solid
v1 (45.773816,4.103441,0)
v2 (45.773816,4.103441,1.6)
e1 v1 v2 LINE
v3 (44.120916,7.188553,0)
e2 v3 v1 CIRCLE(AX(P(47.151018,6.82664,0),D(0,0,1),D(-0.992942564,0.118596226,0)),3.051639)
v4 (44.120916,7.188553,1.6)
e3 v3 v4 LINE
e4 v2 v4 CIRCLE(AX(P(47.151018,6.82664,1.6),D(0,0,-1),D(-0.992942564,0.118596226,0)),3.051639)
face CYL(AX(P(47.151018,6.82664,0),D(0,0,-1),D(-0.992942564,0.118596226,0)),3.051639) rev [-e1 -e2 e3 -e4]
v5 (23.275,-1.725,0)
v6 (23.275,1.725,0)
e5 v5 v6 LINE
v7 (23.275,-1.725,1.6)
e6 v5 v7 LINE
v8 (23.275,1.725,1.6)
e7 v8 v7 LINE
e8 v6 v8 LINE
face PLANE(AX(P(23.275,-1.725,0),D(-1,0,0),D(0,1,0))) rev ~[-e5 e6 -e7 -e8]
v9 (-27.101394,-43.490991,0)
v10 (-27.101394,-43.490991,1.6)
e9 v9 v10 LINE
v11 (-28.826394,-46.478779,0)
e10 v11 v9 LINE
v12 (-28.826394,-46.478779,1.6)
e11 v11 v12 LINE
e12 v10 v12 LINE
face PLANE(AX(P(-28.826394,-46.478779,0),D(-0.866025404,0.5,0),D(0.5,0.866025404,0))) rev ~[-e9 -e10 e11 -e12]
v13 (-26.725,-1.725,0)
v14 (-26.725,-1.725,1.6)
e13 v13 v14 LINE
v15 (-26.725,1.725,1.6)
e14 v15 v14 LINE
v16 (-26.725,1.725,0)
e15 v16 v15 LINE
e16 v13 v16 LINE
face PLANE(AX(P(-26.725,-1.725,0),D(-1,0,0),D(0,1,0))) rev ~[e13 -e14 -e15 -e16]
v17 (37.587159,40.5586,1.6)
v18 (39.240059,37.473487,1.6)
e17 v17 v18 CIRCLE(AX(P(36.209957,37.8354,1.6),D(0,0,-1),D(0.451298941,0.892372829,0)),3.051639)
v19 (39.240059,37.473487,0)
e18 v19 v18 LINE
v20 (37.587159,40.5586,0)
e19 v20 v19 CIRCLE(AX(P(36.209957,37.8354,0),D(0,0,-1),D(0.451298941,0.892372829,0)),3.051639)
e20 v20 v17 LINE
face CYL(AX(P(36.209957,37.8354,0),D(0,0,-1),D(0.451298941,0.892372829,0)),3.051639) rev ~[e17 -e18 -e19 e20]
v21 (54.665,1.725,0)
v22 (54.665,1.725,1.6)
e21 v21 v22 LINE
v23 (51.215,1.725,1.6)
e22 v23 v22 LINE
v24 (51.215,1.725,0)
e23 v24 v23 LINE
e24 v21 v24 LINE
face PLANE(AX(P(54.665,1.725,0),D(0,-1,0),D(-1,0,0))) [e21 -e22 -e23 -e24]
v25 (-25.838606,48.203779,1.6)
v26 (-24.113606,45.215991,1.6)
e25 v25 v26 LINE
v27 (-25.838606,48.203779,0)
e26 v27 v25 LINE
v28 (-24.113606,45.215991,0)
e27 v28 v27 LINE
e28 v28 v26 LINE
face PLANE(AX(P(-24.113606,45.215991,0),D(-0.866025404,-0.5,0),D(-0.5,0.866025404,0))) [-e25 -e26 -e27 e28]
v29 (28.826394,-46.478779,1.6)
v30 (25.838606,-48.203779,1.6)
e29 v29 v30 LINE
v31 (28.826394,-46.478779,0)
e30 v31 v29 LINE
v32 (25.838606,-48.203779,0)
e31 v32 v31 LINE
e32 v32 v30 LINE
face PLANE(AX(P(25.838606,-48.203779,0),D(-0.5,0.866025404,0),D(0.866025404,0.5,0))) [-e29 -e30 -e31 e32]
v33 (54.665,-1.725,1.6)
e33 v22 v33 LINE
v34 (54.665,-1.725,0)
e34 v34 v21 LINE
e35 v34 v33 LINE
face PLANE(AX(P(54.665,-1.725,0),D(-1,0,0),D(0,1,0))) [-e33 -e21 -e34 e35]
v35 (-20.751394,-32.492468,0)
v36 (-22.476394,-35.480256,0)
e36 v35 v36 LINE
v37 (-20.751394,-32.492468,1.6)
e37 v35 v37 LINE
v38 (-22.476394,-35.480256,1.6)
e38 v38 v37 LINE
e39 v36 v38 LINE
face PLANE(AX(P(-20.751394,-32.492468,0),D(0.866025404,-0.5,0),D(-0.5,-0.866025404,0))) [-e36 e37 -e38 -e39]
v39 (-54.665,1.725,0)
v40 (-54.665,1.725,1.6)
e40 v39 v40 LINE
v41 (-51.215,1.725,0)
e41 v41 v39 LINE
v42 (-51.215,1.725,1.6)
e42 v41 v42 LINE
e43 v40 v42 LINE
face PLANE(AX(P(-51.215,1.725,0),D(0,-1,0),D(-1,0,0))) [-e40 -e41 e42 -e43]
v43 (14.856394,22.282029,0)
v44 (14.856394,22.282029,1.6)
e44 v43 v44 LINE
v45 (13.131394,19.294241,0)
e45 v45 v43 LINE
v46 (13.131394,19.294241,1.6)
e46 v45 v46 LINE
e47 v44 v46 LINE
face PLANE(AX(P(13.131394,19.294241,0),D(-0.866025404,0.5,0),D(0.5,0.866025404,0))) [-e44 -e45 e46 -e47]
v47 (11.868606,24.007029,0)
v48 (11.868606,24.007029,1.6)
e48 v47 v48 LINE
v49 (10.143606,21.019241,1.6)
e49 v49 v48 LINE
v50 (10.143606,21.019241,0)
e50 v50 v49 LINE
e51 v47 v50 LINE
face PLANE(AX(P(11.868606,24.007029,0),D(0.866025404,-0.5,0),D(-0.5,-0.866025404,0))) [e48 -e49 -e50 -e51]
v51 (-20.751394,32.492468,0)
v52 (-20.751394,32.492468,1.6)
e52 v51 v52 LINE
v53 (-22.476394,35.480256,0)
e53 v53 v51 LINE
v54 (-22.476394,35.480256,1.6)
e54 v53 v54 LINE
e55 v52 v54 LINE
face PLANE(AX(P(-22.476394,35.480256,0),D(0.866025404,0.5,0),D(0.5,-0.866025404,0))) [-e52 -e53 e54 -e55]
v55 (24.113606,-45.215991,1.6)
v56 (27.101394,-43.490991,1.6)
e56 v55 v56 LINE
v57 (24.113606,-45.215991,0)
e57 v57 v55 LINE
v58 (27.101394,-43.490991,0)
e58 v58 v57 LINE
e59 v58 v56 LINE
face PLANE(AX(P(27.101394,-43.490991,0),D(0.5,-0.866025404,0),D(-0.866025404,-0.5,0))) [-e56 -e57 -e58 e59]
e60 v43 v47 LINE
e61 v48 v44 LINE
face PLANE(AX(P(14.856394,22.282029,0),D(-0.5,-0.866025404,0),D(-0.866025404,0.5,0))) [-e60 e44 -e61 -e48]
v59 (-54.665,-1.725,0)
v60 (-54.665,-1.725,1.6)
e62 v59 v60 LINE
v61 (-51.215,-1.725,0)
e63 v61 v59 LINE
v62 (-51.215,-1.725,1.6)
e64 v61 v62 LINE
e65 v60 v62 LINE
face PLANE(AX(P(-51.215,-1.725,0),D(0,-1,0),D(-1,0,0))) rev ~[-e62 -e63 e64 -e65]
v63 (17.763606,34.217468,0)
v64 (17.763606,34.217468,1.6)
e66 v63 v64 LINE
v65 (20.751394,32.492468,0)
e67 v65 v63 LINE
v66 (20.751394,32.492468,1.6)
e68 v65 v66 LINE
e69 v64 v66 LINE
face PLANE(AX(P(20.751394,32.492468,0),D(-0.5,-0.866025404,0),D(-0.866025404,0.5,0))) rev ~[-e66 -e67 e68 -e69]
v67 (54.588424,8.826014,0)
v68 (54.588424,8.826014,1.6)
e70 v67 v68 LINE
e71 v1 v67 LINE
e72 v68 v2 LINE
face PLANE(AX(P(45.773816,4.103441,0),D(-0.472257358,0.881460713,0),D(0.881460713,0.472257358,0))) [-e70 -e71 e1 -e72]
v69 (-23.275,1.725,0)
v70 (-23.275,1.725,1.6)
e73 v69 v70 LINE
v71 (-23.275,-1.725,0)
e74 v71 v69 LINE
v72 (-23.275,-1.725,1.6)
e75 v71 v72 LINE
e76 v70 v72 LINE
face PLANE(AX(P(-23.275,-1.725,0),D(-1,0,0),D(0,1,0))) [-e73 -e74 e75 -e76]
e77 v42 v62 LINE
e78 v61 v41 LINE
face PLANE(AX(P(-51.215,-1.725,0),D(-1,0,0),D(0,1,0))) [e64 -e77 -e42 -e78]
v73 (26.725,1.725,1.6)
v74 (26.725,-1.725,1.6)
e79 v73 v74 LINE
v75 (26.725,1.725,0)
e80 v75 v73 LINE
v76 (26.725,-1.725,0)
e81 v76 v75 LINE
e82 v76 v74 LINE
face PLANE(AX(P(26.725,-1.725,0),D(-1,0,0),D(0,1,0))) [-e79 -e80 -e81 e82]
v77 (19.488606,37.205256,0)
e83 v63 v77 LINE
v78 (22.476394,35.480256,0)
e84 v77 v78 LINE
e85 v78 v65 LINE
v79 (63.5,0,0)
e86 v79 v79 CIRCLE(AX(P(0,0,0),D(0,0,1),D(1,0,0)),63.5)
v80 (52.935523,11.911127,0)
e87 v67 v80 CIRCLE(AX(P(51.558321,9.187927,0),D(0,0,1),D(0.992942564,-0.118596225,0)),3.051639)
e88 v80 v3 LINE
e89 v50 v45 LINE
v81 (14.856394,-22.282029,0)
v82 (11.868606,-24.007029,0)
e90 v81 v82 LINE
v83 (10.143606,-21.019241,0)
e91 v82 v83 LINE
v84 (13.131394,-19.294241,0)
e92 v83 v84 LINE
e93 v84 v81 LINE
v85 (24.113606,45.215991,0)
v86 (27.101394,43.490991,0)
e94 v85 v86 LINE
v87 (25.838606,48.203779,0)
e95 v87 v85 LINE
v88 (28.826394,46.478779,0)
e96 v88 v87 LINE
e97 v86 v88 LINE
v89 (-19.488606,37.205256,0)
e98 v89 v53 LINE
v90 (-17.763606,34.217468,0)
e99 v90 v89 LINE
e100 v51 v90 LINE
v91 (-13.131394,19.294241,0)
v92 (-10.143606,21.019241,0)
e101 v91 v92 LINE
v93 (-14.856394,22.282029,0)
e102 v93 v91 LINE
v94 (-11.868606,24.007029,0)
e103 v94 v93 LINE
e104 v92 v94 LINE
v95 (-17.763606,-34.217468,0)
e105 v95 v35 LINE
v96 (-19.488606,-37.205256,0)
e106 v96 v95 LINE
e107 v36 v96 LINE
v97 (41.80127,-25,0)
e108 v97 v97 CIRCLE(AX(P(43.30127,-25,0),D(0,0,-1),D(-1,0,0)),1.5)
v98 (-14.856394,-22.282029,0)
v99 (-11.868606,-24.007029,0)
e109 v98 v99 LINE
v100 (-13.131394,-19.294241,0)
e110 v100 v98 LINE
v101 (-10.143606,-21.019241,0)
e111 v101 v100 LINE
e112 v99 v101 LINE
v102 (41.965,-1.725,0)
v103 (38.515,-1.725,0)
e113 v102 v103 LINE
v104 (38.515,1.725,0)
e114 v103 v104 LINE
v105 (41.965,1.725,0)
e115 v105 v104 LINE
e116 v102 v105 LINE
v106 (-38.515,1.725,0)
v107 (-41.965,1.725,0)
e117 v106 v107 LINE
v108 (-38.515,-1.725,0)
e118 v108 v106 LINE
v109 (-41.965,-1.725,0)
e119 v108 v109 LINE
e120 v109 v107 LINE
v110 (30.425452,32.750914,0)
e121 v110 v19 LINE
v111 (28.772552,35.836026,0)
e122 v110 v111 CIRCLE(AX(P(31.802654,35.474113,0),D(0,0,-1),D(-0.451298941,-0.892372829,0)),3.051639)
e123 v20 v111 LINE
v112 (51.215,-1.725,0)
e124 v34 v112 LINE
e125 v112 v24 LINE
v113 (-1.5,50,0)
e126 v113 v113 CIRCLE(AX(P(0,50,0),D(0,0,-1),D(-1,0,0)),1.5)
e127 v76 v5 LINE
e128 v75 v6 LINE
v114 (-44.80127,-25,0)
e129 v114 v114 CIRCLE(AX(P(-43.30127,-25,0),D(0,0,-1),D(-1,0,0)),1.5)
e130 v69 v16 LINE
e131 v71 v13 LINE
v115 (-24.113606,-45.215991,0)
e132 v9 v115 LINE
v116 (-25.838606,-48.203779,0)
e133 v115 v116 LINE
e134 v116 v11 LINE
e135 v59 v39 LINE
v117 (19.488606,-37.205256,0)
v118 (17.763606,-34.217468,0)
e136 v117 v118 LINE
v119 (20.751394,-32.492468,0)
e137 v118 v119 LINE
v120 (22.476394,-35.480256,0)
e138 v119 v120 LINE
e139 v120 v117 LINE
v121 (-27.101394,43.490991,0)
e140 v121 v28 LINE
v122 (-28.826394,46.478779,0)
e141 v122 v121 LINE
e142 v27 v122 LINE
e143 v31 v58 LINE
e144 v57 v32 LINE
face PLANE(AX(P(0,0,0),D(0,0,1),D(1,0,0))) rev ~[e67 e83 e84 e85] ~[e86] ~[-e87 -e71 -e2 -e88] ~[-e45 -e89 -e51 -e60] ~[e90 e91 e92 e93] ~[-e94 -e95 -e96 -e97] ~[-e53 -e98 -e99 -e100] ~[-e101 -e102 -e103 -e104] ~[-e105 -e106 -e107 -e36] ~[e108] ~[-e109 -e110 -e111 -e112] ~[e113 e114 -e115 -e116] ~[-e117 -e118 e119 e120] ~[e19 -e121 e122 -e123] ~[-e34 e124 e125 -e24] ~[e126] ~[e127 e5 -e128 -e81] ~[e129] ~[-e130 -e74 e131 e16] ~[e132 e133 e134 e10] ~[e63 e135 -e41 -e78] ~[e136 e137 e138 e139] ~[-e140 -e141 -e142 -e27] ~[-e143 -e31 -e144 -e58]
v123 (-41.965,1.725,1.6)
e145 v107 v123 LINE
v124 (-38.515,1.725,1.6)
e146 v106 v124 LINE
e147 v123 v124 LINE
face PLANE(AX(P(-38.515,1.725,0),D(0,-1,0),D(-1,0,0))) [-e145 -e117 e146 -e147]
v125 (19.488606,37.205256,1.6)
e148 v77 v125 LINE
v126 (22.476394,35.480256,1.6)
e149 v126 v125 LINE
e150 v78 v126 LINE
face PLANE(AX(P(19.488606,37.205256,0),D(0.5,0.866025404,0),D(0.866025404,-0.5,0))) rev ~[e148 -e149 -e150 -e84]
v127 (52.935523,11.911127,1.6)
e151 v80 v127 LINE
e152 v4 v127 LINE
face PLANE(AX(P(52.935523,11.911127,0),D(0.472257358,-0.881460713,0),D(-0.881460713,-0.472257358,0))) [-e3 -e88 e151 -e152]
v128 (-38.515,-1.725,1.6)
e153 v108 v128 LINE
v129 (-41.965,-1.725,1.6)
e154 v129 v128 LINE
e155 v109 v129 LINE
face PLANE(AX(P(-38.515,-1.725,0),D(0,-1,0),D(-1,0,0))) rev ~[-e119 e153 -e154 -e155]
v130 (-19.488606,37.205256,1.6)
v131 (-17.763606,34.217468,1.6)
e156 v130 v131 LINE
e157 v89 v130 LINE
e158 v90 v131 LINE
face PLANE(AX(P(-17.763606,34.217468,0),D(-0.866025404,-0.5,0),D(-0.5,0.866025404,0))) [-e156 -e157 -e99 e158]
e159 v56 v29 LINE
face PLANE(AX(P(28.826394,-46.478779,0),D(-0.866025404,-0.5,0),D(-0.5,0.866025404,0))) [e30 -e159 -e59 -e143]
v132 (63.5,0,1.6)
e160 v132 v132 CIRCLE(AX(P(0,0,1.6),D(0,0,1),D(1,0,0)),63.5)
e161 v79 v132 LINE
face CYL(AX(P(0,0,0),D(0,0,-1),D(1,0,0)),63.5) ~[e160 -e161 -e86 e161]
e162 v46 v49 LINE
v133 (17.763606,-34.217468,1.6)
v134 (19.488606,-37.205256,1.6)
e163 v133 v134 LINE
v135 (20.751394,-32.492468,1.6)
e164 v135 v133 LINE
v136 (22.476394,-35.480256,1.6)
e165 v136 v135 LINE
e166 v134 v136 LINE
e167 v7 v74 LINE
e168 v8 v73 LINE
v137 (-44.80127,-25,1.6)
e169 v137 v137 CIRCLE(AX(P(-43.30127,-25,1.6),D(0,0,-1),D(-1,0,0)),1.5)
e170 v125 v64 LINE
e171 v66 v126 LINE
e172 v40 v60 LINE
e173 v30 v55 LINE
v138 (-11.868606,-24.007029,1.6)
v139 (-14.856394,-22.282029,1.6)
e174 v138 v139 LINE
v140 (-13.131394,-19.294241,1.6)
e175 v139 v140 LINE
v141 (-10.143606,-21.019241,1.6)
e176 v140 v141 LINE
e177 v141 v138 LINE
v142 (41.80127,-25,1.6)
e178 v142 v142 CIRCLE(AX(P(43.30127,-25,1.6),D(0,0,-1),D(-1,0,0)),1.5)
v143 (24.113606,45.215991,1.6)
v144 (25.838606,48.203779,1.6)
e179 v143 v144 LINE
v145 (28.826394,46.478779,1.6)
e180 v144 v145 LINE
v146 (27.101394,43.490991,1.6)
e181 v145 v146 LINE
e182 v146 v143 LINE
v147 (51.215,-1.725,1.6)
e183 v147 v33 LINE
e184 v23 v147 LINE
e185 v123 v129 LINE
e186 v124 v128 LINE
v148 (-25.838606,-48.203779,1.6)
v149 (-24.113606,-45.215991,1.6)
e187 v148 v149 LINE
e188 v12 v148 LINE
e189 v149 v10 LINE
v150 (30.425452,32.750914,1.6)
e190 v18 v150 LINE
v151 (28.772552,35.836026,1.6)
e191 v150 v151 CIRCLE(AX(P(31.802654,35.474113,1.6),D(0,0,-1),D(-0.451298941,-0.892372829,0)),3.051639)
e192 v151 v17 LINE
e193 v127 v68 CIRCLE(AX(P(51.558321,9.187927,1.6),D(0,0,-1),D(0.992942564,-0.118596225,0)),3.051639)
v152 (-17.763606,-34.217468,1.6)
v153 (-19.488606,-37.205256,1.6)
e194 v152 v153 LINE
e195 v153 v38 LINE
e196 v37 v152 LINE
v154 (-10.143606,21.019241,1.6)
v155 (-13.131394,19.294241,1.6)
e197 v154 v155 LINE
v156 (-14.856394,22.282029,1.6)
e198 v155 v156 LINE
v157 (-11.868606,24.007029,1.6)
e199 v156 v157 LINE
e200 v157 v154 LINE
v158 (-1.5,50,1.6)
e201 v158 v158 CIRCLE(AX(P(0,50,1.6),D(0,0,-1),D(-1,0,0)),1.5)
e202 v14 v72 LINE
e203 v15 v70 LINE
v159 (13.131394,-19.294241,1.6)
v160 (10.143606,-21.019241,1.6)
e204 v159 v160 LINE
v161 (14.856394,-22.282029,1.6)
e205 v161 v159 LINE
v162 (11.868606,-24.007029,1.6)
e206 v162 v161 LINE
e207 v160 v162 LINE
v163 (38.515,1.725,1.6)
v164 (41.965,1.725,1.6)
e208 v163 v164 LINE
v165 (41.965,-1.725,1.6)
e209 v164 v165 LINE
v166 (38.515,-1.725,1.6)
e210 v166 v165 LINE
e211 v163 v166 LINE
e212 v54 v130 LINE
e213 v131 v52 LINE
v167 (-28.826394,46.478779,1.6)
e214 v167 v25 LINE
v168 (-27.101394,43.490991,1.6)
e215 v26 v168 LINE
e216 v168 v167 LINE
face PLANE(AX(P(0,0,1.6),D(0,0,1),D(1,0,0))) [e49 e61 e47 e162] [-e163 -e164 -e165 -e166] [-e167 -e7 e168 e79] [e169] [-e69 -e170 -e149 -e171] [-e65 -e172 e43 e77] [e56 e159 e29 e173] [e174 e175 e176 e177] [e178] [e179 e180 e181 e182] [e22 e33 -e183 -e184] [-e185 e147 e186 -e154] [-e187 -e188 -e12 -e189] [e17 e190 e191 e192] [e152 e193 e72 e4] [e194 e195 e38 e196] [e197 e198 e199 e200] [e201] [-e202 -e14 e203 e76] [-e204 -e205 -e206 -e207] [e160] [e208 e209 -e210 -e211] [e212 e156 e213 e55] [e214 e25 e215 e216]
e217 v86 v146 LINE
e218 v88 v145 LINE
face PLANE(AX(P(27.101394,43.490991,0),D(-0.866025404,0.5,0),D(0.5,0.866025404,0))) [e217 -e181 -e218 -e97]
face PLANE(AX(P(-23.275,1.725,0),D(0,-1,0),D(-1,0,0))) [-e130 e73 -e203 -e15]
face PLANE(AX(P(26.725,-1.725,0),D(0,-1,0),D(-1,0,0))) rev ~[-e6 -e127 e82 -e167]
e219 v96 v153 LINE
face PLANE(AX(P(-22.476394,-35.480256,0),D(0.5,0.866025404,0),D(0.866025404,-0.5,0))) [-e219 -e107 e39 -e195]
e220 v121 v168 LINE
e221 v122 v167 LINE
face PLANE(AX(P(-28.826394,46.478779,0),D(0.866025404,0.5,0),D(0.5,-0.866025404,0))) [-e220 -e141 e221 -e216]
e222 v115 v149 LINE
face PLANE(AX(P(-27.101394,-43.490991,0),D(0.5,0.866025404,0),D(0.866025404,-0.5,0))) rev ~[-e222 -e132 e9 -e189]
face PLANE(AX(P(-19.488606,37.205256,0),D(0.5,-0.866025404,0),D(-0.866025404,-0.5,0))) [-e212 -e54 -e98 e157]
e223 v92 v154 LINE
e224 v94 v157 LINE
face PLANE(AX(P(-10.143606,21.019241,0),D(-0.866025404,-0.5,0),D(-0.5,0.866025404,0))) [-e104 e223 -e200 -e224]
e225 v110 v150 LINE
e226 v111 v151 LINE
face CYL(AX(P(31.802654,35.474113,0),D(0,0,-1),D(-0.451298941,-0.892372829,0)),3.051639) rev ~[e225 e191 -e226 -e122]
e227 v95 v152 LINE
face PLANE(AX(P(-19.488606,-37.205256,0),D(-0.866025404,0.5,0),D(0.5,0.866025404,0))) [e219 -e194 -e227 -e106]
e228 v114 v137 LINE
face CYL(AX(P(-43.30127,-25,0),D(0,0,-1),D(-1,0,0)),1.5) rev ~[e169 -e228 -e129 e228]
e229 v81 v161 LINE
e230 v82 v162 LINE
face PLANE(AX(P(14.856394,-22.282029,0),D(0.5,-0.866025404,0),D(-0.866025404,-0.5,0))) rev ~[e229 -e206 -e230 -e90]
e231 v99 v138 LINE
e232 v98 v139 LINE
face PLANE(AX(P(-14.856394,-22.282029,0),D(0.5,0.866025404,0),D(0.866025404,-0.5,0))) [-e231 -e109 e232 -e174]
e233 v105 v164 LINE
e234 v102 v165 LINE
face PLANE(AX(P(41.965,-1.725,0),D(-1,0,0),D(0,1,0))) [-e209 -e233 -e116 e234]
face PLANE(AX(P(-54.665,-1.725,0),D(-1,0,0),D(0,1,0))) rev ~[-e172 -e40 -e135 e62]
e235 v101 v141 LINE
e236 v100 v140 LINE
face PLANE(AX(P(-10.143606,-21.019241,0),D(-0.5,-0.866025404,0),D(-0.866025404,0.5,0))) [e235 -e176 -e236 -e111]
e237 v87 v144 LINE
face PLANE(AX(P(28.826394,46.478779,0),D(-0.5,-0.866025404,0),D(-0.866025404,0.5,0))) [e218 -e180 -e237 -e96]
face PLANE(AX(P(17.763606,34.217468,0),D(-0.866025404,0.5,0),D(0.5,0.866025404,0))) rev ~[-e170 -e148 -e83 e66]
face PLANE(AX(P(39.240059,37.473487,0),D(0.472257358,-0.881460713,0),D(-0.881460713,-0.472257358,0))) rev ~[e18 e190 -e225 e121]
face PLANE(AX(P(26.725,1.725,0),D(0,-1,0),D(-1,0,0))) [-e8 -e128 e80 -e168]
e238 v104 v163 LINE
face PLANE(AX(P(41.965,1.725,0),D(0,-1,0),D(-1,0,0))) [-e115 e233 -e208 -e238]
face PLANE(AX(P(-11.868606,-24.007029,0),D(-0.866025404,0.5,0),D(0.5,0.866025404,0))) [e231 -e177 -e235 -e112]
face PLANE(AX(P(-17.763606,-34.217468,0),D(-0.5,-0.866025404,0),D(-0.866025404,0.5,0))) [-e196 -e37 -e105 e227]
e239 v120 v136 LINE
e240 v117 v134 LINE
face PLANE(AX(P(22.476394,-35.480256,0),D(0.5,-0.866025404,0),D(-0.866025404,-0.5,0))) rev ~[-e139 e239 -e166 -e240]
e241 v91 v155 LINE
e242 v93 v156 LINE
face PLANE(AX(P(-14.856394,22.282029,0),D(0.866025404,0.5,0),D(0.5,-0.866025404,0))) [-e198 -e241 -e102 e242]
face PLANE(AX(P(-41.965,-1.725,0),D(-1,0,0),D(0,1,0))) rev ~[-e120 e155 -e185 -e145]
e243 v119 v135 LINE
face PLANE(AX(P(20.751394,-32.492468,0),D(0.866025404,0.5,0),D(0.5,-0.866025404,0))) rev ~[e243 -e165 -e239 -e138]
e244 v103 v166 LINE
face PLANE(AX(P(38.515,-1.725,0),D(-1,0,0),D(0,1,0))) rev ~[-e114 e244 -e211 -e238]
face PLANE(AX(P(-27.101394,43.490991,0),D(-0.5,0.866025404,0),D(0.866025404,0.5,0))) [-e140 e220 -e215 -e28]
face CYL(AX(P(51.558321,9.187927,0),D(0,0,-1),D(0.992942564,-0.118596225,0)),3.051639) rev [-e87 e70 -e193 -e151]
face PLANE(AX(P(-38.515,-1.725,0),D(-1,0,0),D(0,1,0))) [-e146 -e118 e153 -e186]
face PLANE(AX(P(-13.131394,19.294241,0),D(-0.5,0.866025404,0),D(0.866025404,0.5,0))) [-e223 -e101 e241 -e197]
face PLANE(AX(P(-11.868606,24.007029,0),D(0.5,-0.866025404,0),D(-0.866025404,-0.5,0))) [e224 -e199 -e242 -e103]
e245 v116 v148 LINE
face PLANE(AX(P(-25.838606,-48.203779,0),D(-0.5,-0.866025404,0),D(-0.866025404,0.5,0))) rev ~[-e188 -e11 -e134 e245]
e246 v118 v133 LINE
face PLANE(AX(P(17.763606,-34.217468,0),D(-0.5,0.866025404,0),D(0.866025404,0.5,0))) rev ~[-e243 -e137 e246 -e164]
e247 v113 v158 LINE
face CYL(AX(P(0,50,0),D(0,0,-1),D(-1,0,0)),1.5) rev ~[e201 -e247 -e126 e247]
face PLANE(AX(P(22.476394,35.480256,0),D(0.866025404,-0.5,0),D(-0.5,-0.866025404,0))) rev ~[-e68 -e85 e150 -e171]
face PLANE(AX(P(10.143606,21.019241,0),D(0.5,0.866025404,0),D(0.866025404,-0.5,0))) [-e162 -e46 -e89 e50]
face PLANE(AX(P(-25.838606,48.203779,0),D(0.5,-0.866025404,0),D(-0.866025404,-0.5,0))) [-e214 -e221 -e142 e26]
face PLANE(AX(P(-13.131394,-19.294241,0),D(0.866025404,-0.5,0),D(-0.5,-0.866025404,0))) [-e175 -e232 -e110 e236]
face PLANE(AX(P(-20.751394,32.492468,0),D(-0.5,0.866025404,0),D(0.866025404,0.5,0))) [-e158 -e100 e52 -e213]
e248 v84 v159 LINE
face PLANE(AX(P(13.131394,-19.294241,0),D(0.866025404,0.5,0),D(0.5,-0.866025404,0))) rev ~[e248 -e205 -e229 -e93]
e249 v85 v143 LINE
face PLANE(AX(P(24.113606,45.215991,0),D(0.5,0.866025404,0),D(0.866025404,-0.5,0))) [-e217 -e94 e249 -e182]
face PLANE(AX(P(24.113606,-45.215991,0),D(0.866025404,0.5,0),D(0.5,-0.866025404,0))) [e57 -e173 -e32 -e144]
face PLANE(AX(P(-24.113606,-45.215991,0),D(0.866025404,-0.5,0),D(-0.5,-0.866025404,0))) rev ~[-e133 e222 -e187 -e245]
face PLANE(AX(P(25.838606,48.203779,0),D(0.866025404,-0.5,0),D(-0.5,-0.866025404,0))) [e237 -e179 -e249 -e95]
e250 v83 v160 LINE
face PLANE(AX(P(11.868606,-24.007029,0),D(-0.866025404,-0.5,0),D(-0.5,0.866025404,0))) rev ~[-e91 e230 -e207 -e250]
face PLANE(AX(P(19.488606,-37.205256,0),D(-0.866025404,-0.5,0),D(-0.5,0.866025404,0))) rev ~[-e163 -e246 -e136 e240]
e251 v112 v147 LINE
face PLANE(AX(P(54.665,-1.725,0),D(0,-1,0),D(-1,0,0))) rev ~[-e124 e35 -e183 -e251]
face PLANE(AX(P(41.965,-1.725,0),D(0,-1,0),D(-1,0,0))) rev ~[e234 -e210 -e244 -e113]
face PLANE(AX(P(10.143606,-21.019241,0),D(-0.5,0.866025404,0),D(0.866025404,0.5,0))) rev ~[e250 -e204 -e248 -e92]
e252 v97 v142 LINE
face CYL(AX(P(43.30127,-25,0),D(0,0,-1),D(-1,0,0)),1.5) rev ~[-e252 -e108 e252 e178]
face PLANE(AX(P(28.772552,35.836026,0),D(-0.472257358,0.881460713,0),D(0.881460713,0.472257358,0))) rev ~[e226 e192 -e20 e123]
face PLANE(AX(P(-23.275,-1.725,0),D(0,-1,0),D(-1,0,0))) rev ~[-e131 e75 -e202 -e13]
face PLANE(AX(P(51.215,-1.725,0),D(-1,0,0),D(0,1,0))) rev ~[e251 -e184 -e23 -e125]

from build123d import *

# Parameters (mm, degrees)
SKETCH1_R           = 63.5
BOSS_EXTRUDE1_DEPTH = 1.6
SKETCH3_R           = 1.75
CUT_EXTRUDE4_DEPTH  = 1.6
SKETCH2_R           = 1.5
CUT_EXTRUDE5_DEPTH  = 1.6
CUT_EXTRUDE6_DEPTH  = 10
SKETCH5_W           = 3.45
SKETCH5_H           = 3.45
CUT_EXTRUDE7_DEPTH  = 10


with BuildPart() as part:
    # Sketch1 → Boss-Extrude1 (new body)
    with BuildSketch(Plane.XY):
        Circle(SKETCH1_R)
    extrude(amount=BOSS_EXTRUDE1_DEPTH)

    # Sketch3 → Cut-Extrude4 (cut)
    with BuildSketch(Plane(origin=(0, 0, 0), x_dir=(-1, 0, 0), z_dir=(0, 0, -1))):
        with Locations((-34.006305458, 36.654756705)):
            Circle(SKETCH3_R)
        with Locations((-49.354669589, 8.007283544)):
            Circle(SKETCH3_R)
    extrude(amount=-CUT_EXTRUDE4_DEPTH, mode=Mode.SUBTRACT)

    # Sketch2 → Cut-Extrude5 (cut)
    with BuildSketch(Plane(origin=(0, 0, 0), x_dir=(-1, 0, 0), z_dir=(0, 0, -1))):
        with Locations((0, 50)):
            Circle(SKETCH2_R)
        with Locations((43.301270189, -25)):
            Circle(SKETCH2_R)
        with Locations((-43.301270189, -25)):
            Circle(SKETCH2_R)
    extrude(amount=-CUT_EXTRUDE5_DEPTH, mode=Mode.SUBTRACT)

    # Sketch4 → Cut-Extrude6 (cut)
    with BuildSketch(Plane(origin=(0, 0, 0), x_dir=(-1, 0, 0), z_dir=(0, 0, -1))):
        with BuildLine():
            Line((-52.935522776, 11.911126581), (-44.12091565, 7.188553002))
            ThreePointArc((-44.12091565, 7.188553002), (-44.461118004, 5.385481223), (-45.773816402, 4.103440508))
            Line((-45.773816402, 4.103440508), (-54.588423529, 8.826014086))
            ThreePointArc((-54.588423529, 8.826014086), (-54.248221174, 10.629085865), (-52.935522776, 11.911126581))
        make_face()
        with BuildLine():
            Line((-39.240059397, 37.473487247), (-30.425452271, 32.750913668))
            ThreePointArc((-30.425452271, 32.750913668), (-29.112753873, 34.032954384), (-28.772551518, 35.836026163))
            Line((-28.772551518, 35.836026163), (-37.587158645, 40.558599742))
            ThreePointArc((-37.587158645, 40.558599742), (-38.899857043, 39.276559026), (-39.240059397, 37.473487247))
        make_face()
    extrude(amount=-CUT_EXTRUDE6_DEPTH, mode=Mode.SUBTRACT)

    # Sketch5 → Cut-Extrude7 (cut)
    with BuildSketch(Plane(origin=(0, 0, 0), x_dir=(-1, 0, 0), z_dir=(0, 0, -1))):
        with Locations((-52.94, 0)):
            Rectangle(SKETCH5_W, SKETCH5_H)
        Polygon((-24.113606178, -45.215991055), (-25.838606178, -48.203778698), (-28.826393822, -46.478778698), (-27.101393822, -43.490991055), align=None)
        Polygon((-27.101393822, 43.490991055), (-28.826393822, 46.478778698), (-25.838606178, 48.203778698), (-24.113606178, 45.215991055), align=None)
        with Locations((-40.24, 0)):
            Rectangle(SKETCH5_W, SKETCH5_H)
        with Locations((-25, 0)):
            Rectangle(SKETCH5_W, SKETCH5_H)
        with Locations((25, 0)):
            Rectangle(SKETCH5_W, SKETCH5_H)
        with Locations((40.24, 0)):
            Rectangle(SKETCH5_W, SKETCH5_H)
        with Locations((52.94, 0)):
            Rectangle(SKETCH5_W, SKETCH5_H)
        Polygon((13.131393822, -19.294241273), (14.856393822, -22.282028916), (11.868606178, -24.007028916), (10.143606178, -21.019241273), align=None)
        Polygon((20.751393822, -32.492468427), (22.476393822, -35.48025607), (19.488606178, -37.20525607), (17.763606178, -34.217468427), align=None)
        Polygon((24.113606178, -45.215991055), (25.838606178, -48.203778698), (28.826393822, -46.478778698), (27.101393822, -43.490991055), align=None)
        Polygon((-13.131393822, -19.294241273), (-14.856393822, -22.282028916), (-11.868606178, -24.007028916), (-10.143606178, -21.019241273), align=None)
        Polygon((-20.751393822, -32.492468427), (-22.476393822, -35.48025607), (-19.488606178, -37.20525607), (-17.763606178, -34.217468427), align=None)
        Polygon((-17.763606178, 34.217468427), (-19.488606178, 37.20525607), (-22.476393822, 35.48025607), (-20.751393822, 32.492468427), align=None)
        Polygon((-13.131393822, 19.294241273), (-14.856393822, 22.282028916), (-11.868606178, 24.007028916), (-10.143606178, 21.019241273), align=None)
        Polygon((10.143606178, 21.019241273), (11.868606178, 24.007028916), (14.856393822, 22.282028916), (13.131393822, 19.294241273), align=None)
        Polygon((17.763606178, 34.217468427), (19.488606178, 37.20525607), (22.476393822, 35.48025607), (20.751393822, 32.492468427), align=None)
        Polygon((24.113606178, 45.215991055), (25.838606178, 48.203778698), (28.826393822, 46.478778698), (27.101393822, 43.490991055), align=None)
    extrude(amount=-CUT_EXTRUDE7_DEPTH, mode=Mode.SUBTRACT)


solid = part.part
